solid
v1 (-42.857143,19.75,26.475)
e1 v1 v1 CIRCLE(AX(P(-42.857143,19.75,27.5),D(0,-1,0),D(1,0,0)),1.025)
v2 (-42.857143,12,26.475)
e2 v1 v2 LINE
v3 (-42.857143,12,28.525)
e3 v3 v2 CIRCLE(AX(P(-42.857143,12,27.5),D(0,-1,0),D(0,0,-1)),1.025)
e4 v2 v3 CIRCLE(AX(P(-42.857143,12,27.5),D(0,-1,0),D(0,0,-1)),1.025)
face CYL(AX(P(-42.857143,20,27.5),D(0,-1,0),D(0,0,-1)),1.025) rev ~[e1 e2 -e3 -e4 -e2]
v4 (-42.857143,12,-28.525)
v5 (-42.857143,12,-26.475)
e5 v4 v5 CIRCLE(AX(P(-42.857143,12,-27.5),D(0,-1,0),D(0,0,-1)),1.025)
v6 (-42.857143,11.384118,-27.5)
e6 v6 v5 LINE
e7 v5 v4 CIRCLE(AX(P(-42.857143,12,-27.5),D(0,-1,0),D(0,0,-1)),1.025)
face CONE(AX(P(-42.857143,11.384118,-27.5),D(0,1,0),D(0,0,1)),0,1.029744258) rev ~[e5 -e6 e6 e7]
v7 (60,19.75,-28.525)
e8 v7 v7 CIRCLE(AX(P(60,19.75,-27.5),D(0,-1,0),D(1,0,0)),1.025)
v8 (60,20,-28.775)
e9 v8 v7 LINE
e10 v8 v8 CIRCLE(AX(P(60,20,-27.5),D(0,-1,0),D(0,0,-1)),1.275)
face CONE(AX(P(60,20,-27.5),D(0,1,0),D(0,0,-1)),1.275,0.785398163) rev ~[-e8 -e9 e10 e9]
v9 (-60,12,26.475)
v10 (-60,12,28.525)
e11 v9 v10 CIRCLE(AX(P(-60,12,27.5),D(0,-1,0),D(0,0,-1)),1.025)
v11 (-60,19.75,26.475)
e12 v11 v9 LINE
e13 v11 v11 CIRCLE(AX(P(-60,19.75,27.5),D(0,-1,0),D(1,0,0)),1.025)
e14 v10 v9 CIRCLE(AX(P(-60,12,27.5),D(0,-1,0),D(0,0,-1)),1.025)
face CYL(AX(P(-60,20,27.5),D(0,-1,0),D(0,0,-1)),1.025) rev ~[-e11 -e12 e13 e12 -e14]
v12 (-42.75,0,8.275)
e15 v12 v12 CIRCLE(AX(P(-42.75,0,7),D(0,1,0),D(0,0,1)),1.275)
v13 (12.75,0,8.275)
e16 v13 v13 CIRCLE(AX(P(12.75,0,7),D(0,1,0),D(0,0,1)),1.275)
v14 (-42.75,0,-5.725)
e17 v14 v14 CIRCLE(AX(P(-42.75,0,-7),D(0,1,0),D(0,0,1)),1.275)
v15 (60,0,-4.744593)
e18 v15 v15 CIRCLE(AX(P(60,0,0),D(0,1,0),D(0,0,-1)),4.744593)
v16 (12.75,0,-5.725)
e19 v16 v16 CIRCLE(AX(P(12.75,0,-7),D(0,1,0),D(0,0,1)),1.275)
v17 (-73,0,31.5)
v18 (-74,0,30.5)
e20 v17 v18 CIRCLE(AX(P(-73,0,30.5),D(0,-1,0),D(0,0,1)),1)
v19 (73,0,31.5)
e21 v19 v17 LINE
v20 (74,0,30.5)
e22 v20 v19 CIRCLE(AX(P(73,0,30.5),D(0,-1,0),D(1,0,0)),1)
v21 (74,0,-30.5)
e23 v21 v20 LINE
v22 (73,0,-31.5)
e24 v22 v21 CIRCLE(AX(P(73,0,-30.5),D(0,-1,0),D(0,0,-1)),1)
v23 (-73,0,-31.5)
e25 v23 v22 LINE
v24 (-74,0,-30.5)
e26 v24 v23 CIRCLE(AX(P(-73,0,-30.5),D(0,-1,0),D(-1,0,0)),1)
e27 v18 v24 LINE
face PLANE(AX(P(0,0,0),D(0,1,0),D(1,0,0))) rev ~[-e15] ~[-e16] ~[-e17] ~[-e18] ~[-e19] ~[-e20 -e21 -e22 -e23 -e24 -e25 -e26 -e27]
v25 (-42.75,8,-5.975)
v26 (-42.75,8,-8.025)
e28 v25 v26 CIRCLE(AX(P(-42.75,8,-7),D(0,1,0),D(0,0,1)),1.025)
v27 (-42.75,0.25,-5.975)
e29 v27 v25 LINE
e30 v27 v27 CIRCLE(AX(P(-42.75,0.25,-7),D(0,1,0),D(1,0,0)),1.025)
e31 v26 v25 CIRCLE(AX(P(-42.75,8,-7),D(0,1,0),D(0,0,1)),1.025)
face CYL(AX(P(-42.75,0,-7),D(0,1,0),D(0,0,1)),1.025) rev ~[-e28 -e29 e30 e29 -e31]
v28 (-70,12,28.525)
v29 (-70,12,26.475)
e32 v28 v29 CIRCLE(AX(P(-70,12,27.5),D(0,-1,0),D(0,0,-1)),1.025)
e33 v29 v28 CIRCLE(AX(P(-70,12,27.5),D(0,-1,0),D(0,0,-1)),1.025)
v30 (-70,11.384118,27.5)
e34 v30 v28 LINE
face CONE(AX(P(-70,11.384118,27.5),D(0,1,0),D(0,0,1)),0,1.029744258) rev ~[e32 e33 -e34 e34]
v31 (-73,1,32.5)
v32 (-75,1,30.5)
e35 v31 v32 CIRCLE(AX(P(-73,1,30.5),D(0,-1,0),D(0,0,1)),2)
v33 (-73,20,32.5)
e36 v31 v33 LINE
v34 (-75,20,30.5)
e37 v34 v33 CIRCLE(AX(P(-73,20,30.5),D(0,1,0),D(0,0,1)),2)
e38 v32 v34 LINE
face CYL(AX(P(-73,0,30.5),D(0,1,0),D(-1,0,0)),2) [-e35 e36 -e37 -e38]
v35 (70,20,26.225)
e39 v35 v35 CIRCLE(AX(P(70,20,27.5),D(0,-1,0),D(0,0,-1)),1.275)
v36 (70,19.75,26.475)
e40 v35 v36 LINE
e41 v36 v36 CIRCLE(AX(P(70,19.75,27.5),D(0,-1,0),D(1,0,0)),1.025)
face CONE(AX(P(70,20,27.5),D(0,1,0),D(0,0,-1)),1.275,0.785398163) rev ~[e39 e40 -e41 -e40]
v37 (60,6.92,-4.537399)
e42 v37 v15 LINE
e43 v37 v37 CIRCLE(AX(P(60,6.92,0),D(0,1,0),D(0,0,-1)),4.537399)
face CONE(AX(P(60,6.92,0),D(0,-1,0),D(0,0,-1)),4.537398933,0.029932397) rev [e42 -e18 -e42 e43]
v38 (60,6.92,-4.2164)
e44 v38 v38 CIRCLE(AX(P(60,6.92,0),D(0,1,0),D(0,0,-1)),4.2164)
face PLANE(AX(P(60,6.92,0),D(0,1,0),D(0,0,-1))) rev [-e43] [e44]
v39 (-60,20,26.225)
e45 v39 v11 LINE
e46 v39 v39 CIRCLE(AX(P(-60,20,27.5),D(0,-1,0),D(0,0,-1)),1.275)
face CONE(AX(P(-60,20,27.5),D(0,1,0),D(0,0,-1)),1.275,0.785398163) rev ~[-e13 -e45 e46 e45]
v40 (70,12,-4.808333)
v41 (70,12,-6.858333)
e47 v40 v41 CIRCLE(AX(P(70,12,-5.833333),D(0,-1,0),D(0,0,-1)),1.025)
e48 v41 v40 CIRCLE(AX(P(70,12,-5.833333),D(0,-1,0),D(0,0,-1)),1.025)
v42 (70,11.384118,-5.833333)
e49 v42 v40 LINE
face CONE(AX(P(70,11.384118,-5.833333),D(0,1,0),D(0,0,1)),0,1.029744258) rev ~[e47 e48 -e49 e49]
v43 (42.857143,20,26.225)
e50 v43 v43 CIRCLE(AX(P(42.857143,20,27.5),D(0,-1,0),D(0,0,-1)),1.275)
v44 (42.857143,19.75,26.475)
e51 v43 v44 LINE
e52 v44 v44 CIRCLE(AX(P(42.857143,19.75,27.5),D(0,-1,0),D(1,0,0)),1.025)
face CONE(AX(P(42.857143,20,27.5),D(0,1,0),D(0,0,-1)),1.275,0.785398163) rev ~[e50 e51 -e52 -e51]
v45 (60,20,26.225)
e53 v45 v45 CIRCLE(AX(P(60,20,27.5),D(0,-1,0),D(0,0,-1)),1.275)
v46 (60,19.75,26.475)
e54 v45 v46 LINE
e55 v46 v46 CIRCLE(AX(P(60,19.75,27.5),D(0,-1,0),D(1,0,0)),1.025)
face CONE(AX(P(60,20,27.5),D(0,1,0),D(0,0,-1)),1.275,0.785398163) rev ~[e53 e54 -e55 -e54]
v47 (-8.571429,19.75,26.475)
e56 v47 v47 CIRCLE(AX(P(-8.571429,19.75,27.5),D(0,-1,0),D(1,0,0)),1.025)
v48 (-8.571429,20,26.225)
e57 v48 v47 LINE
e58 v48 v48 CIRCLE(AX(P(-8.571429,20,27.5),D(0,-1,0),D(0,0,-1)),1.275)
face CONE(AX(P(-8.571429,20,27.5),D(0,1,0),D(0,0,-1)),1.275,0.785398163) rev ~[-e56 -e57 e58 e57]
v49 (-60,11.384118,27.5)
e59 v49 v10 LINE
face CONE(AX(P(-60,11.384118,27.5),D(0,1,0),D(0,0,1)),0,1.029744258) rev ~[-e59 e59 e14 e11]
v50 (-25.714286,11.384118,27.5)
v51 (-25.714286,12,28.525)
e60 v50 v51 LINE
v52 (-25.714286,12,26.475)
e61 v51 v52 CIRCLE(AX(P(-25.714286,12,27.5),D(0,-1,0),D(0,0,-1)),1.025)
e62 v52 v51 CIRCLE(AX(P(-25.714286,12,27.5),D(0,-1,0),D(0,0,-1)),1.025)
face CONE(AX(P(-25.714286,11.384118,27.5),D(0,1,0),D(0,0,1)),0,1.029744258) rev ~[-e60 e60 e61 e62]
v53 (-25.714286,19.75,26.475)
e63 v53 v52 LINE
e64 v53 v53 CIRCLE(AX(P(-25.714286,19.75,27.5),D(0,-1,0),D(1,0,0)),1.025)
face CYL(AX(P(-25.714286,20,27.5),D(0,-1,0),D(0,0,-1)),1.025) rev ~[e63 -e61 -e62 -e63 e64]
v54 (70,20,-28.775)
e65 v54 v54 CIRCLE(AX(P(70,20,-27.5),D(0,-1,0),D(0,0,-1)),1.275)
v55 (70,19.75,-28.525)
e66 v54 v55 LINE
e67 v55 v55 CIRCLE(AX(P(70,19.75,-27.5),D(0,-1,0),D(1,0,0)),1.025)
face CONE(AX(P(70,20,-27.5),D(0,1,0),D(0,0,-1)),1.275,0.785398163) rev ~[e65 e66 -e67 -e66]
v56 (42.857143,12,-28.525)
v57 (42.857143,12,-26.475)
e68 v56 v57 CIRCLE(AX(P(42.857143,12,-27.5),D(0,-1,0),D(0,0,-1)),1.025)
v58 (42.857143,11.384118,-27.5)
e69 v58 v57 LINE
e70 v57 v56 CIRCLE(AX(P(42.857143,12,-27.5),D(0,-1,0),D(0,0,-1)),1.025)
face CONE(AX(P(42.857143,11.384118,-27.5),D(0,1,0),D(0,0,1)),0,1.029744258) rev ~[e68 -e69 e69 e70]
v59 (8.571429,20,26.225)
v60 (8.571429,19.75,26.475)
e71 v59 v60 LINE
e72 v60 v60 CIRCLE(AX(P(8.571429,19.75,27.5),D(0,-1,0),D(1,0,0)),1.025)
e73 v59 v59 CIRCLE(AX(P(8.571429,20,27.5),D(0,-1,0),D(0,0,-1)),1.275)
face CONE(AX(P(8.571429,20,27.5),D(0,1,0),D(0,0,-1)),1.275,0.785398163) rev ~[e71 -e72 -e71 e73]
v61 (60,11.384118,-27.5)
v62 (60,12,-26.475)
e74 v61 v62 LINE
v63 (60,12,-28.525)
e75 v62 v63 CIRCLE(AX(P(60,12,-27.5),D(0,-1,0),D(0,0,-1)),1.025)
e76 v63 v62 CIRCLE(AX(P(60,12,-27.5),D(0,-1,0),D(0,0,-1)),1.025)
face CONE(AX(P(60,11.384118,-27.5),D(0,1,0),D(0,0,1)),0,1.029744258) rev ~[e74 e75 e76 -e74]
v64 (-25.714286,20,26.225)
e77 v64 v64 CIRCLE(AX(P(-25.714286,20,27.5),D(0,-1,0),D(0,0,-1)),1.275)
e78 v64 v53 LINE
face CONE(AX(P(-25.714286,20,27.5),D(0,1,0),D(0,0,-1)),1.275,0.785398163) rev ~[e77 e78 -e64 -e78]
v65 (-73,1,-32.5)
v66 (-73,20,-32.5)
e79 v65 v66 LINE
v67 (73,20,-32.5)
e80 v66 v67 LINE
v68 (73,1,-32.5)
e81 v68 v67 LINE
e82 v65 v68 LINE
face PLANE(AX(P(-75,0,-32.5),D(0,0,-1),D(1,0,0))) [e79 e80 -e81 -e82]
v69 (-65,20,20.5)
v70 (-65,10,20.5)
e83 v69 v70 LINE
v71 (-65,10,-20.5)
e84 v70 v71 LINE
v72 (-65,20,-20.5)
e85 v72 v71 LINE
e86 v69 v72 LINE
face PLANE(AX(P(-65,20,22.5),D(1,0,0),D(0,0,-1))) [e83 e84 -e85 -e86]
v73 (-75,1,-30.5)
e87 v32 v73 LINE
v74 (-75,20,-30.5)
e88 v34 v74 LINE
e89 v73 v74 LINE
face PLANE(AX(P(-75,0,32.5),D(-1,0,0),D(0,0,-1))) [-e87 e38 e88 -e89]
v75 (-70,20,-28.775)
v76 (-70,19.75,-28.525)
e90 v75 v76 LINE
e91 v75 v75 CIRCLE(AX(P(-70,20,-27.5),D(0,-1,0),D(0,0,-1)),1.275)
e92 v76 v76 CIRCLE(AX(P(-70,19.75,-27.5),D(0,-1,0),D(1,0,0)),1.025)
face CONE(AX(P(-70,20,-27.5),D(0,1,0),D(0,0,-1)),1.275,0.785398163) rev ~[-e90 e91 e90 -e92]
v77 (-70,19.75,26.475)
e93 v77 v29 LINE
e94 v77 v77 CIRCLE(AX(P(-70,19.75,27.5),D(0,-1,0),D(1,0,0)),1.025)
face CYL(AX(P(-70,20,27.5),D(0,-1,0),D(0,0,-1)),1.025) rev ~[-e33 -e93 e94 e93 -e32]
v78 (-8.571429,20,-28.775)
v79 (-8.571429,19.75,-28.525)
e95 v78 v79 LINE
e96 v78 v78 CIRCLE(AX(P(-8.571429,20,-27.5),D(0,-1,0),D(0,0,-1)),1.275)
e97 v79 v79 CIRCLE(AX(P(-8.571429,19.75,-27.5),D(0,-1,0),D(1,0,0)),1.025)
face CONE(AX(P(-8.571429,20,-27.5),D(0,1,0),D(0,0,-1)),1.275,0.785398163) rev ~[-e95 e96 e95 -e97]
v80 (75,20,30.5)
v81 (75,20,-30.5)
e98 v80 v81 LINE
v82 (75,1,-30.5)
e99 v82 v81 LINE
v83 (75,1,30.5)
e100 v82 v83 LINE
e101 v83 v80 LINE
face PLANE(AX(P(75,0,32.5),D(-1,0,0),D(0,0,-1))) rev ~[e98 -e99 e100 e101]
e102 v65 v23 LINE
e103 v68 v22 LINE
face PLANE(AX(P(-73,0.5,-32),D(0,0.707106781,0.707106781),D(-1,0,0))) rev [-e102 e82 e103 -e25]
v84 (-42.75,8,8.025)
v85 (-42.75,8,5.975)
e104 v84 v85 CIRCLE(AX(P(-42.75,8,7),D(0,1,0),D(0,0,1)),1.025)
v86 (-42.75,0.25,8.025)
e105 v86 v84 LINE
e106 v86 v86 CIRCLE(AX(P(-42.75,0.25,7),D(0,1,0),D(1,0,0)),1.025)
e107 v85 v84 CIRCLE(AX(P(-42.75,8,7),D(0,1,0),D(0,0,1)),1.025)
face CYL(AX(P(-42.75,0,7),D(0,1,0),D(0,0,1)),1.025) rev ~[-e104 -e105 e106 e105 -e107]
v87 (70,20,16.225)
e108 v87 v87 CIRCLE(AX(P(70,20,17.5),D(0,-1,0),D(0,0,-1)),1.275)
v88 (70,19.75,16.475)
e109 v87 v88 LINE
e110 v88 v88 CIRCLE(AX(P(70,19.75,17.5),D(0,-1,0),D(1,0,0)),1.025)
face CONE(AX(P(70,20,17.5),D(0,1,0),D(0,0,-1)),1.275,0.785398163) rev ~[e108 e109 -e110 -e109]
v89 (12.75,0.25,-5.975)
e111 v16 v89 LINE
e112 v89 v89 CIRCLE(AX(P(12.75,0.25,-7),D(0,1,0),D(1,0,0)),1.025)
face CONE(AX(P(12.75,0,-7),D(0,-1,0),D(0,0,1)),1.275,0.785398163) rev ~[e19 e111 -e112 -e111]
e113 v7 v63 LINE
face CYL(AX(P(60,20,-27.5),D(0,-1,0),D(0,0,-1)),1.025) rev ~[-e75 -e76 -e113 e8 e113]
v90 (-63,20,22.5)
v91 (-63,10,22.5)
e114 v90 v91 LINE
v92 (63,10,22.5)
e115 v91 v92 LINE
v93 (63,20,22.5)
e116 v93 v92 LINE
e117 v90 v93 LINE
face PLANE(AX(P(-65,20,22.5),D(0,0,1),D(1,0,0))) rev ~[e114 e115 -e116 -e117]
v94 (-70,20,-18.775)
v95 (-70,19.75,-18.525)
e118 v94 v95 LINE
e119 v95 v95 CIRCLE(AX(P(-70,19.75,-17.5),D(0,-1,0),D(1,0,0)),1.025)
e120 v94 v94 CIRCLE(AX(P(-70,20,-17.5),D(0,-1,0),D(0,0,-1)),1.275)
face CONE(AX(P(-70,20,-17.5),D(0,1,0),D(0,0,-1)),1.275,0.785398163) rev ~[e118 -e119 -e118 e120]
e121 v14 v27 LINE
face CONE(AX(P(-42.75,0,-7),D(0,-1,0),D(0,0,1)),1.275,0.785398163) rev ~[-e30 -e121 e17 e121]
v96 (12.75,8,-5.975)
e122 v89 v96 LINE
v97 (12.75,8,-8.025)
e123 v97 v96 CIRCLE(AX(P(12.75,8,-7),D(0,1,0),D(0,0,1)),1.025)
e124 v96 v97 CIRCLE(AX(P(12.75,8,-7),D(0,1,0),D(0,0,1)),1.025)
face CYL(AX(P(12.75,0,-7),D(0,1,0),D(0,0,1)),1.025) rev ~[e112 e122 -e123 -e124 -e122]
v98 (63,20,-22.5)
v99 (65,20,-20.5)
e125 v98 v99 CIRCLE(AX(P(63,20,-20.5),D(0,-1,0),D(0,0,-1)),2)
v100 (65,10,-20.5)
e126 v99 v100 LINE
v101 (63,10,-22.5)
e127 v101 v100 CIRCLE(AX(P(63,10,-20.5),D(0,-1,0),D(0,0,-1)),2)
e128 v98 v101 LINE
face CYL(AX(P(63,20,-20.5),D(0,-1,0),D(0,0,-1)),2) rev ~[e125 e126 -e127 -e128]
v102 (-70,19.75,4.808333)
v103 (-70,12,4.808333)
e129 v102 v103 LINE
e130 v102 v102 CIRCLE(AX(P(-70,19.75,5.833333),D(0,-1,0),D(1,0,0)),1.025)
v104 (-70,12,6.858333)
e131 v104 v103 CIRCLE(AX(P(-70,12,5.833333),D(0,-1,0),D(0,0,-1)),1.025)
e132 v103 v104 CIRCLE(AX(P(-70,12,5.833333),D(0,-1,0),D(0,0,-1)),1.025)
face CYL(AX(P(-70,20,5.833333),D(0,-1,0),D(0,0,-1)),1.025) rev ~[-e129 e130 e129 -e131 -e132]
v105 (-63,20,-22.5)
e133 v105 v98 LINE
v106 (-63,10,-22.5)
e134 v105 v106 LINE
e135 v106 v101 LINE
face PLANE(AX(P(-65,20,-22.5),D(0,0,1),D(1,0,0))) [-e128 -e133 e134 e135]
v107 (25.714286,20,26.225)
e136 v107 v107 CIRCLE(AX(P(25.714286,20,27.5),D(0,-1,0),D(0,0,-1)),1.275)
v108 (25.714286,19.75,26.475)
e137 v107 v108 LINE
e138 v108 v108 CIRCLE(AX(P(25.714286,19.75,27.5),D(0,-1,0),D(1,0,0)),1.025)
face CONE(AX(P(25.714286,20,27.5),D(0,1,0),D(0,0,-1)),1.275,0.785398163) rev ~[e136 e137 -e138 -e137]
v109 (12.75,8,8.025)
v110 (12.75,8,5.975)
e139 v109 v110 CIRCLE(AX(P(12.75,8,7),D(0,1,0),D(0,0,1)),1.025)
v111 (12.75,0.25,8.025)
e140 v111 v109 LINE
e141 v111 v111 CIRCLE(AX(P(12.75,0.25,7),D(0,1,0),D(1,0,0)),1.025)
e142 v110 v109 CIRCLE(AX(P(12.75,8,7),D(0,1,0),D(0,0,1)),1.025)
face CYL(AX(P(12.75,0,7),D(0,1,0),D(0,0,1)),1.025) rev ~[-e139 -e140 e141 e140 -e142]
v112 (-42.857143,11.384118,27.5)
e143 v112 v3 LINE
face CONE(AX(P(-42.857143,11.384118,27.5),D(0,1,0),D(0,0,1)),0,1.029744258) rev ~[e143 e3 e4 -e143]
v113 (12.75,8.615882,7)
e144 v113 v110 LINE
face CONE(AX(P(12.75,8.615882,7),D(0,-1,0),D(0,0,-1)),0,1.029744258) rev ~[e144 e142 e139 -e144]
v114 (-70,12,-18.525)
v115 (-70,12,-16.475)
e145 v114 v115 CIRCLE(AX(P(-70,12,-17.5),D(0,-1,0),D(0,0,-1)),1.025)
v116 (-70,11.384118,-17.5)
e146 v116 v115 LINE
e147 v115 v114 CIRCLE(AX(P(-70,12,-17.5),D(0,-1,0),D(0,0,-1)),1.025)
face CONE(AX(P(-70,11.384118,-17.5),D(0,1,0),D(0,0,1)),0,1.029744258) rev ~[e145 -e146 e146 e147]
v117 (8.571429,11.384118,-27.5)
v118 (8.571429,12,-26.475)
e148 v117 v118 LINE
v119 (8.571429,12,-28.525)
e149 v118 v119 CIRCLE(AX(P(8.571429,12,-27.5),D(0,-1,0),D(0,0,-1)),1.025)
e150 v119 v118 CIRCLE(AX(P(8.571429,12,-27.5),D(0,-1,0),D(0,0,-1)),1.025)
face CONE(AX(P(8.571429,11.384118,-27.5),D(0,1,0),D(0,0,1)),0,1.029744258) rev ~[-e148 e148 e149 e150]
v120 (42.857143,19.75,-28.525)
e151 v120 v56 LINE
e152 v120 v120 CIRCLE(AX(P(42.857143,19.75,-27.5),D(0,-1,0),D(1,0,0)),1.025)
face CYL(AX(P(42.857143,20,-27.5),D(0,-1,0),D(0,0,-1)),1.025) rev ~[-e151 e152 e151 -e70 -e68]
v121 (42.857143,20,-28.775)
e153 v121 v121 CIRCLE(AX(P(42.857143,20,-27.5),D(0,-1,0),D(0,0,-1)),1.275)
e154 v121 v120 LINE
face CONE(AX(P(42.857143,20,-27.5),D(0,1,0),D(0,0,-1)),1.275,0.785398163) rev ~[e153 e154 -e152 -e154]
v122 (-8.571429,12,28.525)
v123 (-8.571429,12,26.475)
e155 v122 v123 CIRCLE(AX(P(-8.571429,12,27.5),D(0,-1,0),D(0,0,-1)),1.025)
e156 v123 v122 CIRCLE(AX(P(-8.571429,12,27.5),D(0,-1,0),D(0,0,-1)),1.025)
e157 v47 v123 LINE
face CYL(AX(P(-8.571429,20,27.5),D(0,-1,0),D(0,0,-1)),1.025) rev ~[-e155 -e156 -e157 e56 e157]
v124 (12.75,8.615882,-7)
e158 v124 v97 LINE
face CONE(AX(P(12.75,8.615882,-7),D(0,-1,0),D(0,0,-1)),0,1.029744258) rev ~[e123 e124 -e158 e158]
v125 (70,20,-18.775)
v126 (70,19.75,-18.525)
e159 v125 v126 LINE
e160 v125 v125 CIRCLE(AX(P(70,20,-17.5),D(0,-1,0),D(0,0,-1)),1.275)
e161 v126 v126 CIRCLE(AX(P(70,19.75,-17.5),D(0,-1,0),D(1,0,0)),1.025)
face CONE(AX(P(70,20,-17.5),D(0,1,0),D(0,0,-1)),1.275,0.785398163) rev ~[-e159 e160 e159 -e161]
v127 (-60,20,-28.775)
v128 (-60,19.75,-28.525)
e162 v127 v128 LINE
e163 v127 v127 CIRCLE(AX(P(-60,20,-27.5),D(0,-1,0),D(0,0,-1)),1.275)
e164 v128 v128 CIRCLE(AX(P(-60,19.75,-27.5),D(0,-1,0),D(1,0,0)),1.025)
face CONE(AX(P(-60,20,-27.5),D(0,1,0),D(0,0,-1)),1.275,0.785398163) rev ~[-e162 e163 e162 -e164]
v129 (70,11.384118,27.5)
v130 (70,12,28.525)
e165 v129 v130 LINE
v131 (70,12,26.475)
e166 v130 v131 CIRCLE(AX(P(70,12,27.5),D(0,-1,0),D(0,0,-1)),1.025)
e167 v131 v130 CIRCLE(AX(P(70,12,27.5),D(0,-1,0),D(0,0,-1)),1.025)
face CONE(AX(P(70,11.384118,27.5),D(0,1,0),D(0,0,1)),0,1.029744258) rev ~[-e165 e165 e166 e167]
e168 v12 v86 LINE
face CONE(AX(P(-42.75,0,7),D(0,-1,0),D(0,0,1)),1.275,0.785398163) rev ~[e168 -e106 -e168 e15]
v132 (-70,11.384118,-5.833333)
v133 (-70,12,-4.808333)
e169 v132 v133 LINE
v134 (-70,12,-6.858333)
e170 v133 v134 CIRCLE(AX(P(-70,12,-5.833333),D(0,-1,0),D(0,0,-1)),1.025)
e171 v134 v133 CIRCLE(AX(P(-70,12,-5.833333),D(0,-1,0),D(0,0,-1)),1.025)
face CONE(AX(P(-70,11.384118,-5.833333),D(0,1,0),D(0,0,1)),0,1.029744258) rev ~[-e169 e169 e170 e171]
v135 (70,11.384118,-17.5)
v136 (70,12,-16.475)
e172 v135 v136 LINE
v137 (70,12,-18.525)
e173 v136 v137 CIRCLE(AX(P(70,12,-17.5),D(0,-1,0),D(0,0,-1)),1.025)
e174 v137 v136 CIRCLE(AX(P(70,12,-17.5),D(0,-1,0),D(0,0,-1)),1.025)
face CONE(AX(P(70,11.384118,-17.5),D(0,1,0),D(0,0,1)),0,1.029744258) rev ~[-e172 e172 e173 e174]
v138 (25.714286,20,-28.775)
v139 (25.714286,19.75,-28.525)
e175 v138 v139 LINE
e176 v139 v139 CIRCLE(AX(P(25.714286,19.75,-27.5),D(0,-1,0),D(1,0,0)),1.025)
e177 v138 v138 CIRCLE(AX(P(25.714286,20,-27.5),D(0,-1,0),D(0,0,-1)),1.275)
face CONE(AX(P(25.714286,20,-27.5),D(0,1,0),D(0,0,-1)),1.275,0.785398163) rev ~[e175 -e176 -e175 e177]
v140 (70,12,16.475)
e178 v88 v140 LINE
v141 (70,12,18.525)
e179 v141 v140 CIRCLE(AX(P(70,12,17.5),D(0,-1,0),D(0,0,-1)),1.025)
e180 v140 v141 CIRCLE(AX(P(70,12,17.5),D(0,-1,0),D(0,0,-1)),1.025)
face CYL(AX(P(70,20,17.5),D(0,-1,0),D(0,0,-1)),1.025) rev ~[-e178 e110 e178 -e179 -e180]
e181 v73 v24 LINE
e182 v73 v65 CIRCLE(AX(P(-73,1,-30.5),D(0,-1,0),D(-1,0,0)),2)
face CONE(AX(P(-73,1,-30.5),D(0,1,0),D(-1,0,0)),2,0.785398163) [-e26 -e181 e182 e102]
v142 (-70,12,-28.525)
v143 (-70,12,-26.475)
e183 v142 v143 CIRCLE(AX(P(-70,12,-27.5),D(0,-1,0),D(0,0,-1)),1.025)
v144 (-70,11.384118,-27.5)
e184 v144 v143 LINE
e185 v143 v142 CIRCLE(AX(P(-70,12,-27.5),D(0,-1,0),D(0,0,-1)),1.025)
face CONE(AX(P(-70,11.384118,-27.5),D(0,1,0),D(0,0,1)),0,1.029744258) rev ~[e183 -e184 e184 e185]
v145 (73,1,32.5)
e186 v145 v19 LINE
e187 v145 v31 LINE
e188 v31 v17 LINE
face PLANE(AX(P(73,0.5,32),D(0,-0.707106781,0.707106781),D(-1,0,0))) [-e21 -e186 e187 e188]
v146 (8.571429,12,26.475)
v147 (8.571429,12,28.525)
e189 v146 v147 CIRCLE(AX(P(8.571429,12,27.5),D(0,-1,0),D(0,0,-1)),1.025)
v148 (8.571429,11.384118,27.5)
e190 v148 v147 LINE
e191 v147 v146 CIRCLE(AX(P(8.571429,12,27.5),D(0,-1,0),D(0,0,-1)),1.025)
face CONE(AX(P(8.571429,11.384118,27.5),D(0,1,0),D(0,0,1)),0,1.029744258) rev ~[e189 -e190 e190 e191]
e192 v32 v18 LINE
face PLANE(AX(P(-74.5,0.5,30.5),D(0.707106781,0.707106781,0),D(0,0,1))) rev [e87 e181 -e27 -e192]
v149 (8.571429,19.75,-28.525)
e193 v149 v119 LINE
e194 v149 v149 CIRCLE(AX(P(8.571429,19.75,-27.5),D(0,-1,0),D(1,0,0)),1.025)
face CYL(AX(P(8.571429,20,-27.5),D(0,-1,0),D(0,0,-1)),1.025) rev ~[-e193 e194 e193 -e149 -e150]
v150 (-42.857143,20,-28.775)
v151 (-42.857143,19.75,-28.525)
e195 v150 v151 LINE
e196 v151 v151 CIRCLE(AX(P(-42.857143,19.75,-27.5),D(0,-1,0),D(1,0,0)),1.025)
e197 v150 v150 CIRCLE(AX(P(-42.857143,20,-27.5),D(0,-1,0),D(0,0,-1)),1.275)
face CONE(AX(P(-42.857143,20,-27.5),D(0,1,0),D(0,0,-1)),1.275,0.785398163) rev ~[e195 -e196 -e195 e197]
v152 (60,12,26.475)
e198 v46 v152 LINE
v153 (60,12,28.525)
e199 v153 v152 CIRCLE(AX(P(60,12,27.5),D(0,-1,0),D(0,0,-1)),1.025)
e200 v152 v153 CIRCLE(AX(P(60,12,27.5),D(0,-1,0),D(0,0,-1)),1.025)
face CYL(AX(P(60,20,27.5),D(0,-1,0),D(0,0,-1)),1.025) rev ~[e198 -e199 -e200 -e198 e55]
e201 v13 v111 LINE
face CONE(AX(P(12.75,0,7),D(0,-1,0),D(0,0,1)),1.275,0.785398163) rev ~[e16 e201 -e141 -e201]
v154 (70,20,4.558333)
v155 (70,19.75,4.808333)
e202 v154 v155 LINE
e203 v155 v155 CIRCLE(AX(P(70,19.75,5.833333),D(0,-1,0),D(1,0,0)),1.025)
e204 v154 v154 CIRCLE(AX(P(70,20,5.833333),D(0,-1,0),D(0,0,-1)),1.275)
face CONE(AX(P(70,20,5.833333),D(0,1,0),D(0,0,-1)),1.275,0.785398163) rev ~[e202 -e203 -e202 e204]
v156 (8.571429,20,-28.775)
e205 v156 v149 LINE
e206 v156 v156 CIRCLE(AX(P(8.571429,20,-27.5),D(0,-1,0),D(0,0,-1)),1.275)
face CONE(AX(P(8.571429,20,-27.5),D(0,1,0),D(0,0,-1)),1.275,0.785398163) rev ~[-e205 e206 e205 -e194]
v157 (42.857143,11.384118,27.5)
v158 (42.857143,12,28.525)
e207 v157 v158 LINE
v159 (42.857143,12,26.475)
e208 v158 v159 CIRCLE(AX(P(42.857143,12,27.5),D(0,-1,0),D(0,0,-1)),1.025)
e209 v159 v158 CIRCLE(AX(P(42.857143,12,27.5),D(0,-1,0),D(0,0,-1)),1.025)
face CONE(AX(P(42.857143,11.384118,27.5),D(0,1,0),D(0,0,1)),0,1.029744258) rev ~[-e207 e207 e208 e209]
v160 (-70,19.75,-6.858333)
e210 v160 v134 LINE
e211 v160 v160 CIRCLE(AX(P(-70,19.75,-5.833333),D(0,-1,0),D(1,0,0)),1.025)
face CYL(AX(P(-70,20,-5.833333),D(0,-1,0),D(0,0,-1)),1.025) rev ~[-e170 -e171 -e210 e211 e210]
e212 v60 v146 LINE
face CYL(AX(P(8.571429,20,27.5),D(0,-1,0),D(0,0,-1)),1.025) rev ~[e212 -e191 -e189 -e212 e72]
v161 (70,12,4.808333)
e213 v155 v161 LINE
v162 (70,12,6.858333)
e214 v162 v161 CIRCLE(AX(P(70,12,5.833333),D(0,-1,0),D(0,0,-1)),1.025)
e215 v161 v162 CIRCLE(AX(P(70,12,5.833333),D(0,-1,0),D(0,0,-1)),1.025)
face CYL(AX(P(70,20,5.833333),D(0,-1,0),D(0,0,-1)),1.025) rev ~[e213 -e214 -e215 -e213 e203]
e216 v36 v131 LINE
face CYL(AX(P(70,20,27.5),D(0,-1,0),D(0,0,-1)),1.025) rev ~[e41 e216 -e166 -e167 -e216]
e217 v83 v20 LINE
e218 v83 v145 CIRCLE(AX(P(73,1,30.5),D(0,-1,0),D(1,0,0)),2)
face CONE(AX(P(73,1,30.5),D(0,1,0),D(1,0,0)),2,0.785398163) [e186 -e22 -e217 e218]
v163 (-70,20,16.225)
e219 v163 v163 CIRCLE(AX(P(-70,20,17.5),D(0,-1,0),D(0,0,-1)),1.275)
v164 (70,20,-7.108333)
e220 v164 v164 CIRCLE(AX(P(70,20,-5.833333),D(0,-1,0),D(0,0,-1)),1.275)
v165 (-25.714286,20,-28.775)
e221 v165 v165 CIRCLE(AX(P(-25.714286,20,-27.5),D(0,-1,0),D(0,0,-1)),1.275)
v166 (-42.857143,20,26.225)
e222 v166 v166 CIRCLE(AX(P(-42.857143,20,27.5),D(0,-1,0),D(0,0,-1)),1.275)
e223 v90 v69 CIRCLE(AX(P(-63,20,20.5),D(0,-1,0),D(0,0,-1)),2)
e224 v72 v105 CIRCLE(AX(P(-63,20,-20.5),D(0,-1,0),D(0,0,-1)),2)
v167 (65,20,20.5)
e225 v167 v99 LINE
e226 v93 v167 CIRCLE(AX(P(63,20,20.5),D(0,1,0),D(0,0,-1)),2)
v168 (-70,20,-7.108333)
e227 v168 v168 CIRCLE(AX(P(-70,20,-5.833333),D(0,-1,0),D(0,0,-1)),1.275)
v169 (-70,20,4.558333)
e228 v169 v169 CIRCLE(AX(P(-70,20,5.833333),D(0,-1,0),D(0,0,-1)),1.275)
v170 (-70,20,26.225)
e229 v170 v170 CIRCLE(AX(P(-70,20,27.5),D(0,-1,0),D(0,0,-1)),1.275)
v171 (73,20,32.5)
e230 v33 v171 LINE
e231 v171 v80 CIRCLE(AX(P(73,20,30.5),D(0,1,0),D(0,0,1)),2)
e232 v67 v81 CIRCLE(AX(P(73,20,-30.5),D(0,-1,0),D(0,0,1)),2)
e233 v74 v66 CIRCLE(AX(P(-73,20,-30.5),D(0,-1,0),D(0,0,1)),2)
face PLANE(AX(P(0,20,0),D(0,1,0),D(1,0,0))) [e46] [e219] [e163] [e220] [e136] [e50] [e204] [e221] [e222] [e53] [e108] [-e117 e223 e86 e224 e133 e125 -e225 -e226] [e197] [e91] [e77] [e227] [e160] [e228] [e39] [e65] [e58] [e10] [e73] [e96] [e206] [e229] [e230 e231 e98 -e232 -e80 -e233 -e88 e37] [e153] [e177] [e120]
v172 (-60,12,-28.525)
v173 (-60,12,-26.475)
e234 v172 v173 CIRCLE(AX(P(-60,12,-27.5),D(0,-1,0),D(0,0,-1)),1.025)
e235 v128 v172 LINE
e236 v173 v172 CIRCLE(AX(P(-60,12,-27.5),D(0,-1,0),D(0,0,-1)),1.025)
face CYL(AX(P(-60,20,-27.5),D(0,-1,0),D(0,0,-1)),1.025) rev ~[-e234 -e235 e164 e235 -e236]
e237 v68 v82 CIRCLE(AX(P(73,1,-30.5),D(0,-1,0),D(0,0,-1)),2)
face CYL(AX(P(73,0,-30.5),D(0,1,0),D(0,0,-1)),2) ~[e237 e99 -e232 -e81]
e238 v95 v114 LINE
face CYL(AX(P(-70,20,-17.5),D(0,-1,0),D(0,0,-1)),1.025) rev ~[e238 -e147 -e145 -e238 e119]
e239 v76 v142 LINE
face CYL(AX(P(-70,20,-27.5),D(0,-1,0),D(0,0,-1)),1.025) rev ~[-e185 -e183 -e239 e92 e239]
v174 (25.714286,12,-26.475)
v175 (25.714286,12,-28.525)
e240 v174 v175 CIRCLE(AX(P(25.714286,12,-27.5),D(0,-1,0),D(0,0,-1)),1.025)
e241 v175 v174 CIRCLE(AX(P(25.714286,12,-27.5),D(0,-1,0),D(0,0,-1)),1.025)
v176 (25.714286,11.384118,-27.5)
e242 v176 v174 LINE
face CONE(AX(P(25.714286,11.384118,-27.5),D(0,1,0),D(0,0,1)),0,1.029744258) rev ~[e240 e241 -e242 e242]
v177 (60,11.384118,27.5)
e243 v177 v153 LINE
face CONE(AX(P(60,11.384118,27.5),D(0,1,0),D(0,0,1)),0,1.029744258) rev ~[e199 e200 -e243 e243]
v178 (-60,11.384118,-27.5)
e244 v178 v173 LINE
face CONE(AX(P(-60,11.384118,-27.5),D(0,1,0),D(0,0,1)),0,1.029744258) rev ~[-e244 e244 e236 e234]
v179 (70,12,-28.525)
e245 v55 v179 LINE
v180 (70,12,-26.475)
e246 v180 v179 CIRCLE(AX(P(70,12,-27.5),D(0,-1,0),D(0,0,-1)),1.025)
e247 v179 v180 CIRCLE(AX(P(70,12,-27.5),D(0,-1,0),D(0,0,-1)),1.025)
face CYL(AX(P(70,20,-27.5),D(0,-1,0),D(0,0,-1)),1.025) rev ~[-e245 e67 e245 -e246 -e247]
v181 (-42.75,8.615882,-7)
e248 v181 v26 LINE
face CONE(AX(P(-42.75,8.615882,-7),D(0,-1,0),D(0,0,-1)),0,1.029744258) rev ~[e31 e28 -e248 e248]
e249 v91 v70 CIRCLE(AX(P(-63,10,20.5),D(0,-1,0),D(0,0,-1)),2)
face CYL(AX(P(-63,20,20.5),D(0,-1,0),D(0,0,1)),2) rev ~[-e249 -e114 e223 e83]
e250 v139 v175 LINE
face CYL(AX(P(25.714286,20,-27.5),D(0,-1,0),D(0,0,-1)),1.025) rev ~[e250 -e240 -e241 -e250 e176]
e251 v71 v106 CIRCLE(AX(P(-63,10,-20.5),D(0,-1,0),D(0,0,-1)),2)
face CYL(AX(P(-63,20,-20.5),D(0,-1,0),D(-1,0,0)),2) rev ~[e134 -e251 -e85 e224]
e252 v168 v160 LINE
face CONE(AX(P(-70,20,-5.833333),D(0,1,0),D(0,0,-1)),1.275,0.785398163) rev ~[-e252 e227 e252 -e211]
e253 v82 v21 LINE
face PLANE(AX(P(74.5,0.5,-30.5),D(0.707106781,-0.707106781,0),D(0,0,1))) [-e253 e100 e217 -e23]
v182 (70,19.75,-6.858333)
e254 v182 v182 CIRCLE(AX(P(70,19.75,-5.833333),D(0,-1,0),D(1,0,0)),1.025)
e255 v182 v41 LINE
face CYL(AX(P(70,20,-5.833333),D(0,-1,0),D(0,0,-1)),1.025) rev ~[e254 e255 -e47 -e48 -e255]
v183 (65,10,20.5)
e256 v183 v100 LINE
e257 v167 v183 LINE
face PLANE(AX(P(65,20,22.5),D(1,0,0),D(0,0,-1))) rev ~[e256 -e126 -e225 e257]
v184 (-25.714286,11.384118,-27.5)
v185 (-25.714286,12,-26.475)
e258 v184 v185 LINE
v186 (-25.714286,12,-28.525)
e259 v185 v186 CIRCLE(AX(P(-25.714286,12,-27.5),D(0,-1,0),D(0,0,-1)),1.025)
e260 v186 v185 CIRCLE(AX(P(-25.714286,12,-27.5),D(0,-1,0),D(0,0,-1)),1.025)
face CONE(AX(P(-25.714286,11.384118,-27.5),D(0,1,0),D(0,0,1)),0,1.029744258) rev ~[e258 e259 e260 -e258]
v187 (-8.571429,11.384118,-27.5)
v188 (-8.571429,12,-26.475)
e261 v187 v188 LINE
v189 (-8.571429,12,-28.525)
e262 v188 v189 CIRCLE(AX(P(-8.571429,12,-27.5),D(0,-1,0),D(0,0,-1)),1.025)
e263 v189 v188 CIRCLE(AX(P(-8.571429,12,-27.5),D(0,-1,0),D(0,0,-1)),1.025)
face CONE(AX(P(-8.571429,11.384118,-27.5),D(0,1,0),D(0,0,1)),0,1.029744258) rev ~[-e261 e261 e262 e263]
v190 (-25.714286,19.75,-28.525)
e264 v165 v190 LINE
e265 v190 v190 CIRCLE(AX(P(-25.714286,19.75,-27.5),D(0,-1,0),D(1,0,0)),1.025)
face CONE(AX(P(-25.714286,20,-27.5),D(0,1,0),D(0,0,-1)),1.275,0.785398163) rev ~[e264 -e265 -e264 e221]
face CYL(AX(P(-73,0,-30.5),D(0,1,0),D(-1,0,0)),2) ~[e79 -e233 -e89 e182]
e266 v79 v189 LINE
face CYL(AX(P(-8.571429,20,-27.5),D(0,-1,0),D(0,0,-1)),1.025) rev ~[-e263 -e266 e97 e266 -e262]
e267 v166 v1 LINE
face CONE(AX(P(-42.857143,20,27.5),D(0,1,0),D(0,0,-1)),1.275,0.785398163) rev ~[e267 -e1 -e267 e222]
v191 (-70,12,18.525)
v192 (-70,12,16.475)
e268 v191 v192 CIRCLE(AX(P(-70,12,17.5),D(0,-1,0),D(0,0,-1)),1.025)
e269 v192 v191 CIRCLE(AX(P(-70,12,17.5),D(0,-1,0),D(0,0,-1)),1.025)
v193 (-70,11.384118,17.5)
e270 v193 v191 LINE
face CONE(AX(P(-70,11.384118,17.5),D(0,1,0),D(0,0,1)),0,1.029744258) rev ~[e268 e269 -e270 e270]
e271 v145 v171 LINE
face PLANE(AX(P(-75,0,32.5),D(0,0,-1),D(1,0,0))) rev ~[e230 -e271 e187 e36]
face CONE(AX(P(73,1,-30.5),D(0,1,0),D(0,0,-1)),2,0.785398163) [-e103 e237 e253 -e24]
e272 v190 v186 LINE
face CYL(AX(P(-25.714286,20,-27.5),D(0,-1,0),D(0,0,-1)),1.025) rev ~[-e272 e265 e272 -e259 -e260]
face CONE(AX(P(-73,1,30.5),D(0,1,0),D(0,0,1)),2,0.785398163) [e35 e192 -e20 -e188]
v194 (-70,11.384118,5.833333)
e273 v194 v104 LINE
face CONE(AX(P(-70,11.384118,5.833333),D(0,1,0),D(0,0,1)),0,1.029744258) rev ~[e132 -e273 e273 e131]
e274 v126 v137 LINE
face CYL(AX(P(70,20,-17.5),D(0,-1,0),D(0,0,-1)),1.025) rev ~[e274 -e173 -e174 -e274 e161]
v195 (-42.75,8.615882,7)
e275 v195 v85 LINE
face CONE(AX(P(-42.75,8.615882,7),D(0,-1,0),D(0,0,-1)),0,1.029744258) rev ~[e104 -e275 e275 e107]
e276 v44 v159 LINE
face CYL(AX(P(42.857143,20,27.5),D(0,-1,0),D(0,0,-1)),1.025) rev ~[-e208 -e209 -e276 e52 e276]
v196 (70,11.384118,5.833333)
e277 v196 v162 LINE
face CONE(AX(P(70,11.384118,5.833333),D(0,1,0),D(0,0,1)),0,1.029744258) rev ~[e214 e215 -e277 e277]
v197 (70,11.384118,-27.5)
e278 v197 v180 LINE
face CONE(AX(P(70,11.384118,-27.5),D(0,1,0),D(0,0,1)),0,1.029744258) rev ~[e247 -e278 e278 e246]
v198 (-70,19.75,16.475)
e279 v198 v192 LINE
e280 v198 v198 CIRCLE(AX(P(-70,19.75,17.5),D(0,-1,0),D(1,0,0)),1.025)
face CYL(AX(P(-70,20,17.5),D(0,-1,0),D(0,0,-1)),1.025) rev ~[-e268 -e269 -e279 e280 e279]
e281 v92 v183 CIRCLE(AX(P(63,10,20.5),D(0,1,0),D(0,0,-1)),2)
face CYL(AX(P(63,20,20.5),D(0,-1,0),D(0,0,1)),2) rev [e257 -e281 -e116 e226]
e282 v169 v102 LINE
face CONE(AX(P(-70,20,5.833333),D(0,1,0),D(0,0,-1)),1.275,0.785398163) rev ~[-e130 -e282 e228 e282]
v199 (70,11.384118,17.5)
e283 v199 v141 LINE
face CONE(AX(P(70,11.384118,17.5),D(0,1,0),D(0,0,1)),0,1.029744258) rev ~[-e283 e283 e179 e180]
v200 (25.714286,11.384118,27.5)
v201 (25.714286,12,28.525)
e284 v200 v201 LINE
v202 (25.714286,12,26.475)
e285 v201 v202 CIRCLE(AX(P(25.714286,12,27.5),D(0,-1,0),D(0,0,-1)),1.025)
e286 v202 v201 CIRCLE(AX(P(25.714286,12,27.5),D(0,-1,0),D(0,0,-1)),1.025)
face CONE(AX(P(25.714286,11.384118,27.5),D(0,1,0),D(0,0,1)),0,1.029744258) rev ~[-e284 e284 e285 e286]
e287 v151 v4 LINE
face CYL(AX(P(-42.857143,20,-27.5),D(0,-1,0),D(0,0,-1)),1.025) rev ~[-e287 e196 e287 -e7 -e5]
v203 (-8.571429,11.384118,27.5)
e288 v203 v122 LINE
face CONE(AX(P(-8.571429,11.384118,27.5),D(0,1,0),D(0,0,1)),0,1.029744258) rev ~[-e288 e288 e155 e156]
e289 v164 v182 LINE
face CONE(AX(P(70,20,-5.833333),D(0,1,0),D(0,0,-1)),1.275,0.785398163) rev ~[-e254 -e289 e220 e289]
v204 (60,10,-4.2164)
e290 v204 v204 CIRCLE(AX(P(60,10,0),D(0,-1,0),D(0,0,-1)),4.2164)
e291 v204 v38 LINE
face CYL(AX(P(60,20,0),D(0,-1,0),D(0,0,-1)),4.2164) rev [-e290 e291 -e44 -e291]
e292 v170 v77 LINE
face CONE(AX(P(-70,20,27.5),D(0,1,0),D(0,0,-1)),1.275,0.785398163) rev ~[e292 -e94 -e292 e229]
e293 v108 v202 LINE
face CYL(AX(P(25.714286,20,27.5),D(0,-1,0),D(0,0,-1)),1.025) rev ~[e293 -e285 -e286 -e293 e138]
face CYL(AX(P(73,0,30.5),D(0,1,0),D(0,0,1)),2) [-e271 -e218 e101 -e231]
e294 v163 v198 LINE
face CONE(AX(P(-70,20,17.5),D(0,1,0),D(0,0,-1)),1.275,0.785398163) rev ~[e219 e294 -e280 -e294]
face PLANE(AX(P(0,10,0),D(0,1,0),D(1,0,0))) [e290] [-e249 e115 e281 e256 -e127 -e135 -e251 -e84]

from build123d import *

# Parameters (mm, degrees)
SKETCH1_W                     = 150
SKETCH1_H                     = 65
BOSS_EXTRUDE1_DEPTH           = 20
SKETCH4_W                     = 130
SKETCH4_H                     = 45
CUT_EXTRUDE1_DEPTH            = 10
M2_5_TAPPED_HOLE1_D           = 2.05
M2_5_TAPPED_HOLE1_DEPTH       = 8
M2_5_TAPPED_HOLE1_CSINK_D     = 2.55
M2_5_TAPPED_HOLE1_CSINK_ANGLE = 90
M2_5_TAPPED_HOLE1_TIP         = 0.615882135
FILLET1_R                     = 2
FILLET2_R                     = 2
M2_5_TAPPED_HOLE2_D           = 2.05
M2_5_TAPPED_HOLE2_DEPTH       = 8
M2_5_TAPPED_HOLE2_CSINK_D     = 2.55
M2_5_TAPPED_HOLE2_CSINK_ANGLE = 90
M2_5_TAPPED_HOLE2_TIP         = 0.615882135
CHAMFER1_SIZE                 = 1


with BuildPart() as part:
    # Sketch1 → Boss-Extrude1 (new body)
    with BuildSketch(Plane(origin=(0, 0, 0), x_dir=(1, 0, 0), z_dir=(0, 1, 0))):
        Rectangle(SKETCH1_W, SKETCH1_H)
    extrude(amount=BOSS_EXTRUDE1_DEPTH)

    # Sketch3 → 1/8 NPT Tapped Hole1 (revolve, cut)
    with BuildSketch(Plane(origin=(60, 0, 0), x_dir=(0, 0, -1), z_dir=(1, 0, 0))):
        Polygon((0, 0), (0, 20), (4.2164, 20), (4.2164, 6.92), (4.537398933, 6.92), (4.744593, 0), align=None)
    revolve(axis=Axis((60, -6.35, 0), (0, 1, 0)), mode=Mode.SUBTRACT)

    # Sketch4 → Cut-Extrude1 (cut)
    with BuildSketch(Plane(origin=(0, 20, 0), x_dir=(1, 0, 0), z_dir=(0, 1, 0))):
        Rectangle(SKETCH4_W, SKETCH4_H)
    extrude(amount=-CUT_EXTRUDE1_DEPTH, mode=Mode.SUBTRACT)

    # M2.5 Tapped Hole1
    with Locations(Plane(origin=(-70, 20, -17.5), x_dir=(0, 0, 1), z_dir=(0, 1, 0))):
        with Locations((0, 0), (11.666666667, 0), (23.333333333, 0), (35, 0), (45, 10), (45, 27.142857143), (45, 44.285714286), (45, 61.428571429), (45, 78.571428571), (45, 95.714285714), (45, 112.857142857), (45, 130), (-10, 10), (-10, 27.142857143), (-10, 44.285714286), (-10, 61.428571429), (-10, 78.571428571), (-10, 95.714285714), (-10, 112.857142857), (-10, 130), (0, 140), (11.666666667, 140), (23.333333333, 140), (35, 140), (-10, 140), (45, 140), (-10, 0), (45, 0)):
            CounterSinkHole(M2_5_TAPPED_HOLE1_D / 2, M2_5_TAPPED_HOLE1_CSINK_D / 2, depth=M2_5_TAPPED_HOLE1_DEPTH, counter_sink_angle=M2_5_TAPPED_HOLE1_CSINK_ANGLE)
            with Locations((0, 0, -(M2_5_TAPPED_HOLE1_DEPTH + M2_5_TAPPED_HOLE1_TIP / 2))):  # 118° drill point
                Cone(0, M2_5_TAPPED_HOLE1_D / 2, M2_5_TAPPED_HOLE1_TIP, mode=Mode.SUBTRACT)

    # Fillet1
    fillet1_edges = [part.edges().sort_by_distance(p)[0] for p in [
        (-75, 10, -32.5),
        (75, 10, -32.5),
        (75, 10, 32.5),
        (-75, 10, 32.5),
    ]]
    fillet(fillet1_edges, radius=FILLET1_R)

    # Fillet2
    fillet2_edges = [part.edges().sort_by_distance(p)[0] for p in [
        (-65, 15, -22.5),
        (65, 15, -22.5),
        (65, 15, 22.5),
        (-65, 15, 22.5),
    ]]
    fillet(fillet2_edges, radius=FILLET2_R)

    # M2.5 Tapped Hole2
    with Locations(Plane(origin=(-42.75, 0, 7), x_dir=(0, 0, -1), z_dir=(0, -1, 0))):
        with Locations((0, 0), (0, 55.5), (14, 0), (14, 55.5)):
            CounterSinkHole(M2_5_TAPPED_HOLE2_D / 2, M2_5_TAPPED_HOLE2_CSINK_D / 2, depth=M2_5_TAPPED_HOLE2_DEPTH, counter_sink_angle=M2_5_TAPPED_HOLE2_CSINK_ANGLE)
            with Locations((0, 0, -(M2_5_TAPPED_HOLE2_DEPTH + M2_5_TAPPED_HOLE2_TIP / 2))):  # 118° drill point
                Cone(0, M2_5_TAPPED_HOLE2_D / 2, M2_5_TAPPED_HOLE2_TIP, mode=Mode.SUBTRACT)

    # Chamfer1
    chamfer1_edges = [part.edges().sort_by_distance(p)[0] for p in [
        (0, 0, -32.5),
        (-75, 0, 0),
        (75, 0, 0),
        (0, 0, 32.5),
        (-74.414213562, 0, -31.914213562),
        (-74.414213562, 0, 31.914213562),
        (74.414213562, 0, 31.914213562),
        (74.414213562, 0, -31.914213562),
    ]]
    chamfer(chamfer1_edges, length=CHAMFER1_SIZE)


solid = part.part
